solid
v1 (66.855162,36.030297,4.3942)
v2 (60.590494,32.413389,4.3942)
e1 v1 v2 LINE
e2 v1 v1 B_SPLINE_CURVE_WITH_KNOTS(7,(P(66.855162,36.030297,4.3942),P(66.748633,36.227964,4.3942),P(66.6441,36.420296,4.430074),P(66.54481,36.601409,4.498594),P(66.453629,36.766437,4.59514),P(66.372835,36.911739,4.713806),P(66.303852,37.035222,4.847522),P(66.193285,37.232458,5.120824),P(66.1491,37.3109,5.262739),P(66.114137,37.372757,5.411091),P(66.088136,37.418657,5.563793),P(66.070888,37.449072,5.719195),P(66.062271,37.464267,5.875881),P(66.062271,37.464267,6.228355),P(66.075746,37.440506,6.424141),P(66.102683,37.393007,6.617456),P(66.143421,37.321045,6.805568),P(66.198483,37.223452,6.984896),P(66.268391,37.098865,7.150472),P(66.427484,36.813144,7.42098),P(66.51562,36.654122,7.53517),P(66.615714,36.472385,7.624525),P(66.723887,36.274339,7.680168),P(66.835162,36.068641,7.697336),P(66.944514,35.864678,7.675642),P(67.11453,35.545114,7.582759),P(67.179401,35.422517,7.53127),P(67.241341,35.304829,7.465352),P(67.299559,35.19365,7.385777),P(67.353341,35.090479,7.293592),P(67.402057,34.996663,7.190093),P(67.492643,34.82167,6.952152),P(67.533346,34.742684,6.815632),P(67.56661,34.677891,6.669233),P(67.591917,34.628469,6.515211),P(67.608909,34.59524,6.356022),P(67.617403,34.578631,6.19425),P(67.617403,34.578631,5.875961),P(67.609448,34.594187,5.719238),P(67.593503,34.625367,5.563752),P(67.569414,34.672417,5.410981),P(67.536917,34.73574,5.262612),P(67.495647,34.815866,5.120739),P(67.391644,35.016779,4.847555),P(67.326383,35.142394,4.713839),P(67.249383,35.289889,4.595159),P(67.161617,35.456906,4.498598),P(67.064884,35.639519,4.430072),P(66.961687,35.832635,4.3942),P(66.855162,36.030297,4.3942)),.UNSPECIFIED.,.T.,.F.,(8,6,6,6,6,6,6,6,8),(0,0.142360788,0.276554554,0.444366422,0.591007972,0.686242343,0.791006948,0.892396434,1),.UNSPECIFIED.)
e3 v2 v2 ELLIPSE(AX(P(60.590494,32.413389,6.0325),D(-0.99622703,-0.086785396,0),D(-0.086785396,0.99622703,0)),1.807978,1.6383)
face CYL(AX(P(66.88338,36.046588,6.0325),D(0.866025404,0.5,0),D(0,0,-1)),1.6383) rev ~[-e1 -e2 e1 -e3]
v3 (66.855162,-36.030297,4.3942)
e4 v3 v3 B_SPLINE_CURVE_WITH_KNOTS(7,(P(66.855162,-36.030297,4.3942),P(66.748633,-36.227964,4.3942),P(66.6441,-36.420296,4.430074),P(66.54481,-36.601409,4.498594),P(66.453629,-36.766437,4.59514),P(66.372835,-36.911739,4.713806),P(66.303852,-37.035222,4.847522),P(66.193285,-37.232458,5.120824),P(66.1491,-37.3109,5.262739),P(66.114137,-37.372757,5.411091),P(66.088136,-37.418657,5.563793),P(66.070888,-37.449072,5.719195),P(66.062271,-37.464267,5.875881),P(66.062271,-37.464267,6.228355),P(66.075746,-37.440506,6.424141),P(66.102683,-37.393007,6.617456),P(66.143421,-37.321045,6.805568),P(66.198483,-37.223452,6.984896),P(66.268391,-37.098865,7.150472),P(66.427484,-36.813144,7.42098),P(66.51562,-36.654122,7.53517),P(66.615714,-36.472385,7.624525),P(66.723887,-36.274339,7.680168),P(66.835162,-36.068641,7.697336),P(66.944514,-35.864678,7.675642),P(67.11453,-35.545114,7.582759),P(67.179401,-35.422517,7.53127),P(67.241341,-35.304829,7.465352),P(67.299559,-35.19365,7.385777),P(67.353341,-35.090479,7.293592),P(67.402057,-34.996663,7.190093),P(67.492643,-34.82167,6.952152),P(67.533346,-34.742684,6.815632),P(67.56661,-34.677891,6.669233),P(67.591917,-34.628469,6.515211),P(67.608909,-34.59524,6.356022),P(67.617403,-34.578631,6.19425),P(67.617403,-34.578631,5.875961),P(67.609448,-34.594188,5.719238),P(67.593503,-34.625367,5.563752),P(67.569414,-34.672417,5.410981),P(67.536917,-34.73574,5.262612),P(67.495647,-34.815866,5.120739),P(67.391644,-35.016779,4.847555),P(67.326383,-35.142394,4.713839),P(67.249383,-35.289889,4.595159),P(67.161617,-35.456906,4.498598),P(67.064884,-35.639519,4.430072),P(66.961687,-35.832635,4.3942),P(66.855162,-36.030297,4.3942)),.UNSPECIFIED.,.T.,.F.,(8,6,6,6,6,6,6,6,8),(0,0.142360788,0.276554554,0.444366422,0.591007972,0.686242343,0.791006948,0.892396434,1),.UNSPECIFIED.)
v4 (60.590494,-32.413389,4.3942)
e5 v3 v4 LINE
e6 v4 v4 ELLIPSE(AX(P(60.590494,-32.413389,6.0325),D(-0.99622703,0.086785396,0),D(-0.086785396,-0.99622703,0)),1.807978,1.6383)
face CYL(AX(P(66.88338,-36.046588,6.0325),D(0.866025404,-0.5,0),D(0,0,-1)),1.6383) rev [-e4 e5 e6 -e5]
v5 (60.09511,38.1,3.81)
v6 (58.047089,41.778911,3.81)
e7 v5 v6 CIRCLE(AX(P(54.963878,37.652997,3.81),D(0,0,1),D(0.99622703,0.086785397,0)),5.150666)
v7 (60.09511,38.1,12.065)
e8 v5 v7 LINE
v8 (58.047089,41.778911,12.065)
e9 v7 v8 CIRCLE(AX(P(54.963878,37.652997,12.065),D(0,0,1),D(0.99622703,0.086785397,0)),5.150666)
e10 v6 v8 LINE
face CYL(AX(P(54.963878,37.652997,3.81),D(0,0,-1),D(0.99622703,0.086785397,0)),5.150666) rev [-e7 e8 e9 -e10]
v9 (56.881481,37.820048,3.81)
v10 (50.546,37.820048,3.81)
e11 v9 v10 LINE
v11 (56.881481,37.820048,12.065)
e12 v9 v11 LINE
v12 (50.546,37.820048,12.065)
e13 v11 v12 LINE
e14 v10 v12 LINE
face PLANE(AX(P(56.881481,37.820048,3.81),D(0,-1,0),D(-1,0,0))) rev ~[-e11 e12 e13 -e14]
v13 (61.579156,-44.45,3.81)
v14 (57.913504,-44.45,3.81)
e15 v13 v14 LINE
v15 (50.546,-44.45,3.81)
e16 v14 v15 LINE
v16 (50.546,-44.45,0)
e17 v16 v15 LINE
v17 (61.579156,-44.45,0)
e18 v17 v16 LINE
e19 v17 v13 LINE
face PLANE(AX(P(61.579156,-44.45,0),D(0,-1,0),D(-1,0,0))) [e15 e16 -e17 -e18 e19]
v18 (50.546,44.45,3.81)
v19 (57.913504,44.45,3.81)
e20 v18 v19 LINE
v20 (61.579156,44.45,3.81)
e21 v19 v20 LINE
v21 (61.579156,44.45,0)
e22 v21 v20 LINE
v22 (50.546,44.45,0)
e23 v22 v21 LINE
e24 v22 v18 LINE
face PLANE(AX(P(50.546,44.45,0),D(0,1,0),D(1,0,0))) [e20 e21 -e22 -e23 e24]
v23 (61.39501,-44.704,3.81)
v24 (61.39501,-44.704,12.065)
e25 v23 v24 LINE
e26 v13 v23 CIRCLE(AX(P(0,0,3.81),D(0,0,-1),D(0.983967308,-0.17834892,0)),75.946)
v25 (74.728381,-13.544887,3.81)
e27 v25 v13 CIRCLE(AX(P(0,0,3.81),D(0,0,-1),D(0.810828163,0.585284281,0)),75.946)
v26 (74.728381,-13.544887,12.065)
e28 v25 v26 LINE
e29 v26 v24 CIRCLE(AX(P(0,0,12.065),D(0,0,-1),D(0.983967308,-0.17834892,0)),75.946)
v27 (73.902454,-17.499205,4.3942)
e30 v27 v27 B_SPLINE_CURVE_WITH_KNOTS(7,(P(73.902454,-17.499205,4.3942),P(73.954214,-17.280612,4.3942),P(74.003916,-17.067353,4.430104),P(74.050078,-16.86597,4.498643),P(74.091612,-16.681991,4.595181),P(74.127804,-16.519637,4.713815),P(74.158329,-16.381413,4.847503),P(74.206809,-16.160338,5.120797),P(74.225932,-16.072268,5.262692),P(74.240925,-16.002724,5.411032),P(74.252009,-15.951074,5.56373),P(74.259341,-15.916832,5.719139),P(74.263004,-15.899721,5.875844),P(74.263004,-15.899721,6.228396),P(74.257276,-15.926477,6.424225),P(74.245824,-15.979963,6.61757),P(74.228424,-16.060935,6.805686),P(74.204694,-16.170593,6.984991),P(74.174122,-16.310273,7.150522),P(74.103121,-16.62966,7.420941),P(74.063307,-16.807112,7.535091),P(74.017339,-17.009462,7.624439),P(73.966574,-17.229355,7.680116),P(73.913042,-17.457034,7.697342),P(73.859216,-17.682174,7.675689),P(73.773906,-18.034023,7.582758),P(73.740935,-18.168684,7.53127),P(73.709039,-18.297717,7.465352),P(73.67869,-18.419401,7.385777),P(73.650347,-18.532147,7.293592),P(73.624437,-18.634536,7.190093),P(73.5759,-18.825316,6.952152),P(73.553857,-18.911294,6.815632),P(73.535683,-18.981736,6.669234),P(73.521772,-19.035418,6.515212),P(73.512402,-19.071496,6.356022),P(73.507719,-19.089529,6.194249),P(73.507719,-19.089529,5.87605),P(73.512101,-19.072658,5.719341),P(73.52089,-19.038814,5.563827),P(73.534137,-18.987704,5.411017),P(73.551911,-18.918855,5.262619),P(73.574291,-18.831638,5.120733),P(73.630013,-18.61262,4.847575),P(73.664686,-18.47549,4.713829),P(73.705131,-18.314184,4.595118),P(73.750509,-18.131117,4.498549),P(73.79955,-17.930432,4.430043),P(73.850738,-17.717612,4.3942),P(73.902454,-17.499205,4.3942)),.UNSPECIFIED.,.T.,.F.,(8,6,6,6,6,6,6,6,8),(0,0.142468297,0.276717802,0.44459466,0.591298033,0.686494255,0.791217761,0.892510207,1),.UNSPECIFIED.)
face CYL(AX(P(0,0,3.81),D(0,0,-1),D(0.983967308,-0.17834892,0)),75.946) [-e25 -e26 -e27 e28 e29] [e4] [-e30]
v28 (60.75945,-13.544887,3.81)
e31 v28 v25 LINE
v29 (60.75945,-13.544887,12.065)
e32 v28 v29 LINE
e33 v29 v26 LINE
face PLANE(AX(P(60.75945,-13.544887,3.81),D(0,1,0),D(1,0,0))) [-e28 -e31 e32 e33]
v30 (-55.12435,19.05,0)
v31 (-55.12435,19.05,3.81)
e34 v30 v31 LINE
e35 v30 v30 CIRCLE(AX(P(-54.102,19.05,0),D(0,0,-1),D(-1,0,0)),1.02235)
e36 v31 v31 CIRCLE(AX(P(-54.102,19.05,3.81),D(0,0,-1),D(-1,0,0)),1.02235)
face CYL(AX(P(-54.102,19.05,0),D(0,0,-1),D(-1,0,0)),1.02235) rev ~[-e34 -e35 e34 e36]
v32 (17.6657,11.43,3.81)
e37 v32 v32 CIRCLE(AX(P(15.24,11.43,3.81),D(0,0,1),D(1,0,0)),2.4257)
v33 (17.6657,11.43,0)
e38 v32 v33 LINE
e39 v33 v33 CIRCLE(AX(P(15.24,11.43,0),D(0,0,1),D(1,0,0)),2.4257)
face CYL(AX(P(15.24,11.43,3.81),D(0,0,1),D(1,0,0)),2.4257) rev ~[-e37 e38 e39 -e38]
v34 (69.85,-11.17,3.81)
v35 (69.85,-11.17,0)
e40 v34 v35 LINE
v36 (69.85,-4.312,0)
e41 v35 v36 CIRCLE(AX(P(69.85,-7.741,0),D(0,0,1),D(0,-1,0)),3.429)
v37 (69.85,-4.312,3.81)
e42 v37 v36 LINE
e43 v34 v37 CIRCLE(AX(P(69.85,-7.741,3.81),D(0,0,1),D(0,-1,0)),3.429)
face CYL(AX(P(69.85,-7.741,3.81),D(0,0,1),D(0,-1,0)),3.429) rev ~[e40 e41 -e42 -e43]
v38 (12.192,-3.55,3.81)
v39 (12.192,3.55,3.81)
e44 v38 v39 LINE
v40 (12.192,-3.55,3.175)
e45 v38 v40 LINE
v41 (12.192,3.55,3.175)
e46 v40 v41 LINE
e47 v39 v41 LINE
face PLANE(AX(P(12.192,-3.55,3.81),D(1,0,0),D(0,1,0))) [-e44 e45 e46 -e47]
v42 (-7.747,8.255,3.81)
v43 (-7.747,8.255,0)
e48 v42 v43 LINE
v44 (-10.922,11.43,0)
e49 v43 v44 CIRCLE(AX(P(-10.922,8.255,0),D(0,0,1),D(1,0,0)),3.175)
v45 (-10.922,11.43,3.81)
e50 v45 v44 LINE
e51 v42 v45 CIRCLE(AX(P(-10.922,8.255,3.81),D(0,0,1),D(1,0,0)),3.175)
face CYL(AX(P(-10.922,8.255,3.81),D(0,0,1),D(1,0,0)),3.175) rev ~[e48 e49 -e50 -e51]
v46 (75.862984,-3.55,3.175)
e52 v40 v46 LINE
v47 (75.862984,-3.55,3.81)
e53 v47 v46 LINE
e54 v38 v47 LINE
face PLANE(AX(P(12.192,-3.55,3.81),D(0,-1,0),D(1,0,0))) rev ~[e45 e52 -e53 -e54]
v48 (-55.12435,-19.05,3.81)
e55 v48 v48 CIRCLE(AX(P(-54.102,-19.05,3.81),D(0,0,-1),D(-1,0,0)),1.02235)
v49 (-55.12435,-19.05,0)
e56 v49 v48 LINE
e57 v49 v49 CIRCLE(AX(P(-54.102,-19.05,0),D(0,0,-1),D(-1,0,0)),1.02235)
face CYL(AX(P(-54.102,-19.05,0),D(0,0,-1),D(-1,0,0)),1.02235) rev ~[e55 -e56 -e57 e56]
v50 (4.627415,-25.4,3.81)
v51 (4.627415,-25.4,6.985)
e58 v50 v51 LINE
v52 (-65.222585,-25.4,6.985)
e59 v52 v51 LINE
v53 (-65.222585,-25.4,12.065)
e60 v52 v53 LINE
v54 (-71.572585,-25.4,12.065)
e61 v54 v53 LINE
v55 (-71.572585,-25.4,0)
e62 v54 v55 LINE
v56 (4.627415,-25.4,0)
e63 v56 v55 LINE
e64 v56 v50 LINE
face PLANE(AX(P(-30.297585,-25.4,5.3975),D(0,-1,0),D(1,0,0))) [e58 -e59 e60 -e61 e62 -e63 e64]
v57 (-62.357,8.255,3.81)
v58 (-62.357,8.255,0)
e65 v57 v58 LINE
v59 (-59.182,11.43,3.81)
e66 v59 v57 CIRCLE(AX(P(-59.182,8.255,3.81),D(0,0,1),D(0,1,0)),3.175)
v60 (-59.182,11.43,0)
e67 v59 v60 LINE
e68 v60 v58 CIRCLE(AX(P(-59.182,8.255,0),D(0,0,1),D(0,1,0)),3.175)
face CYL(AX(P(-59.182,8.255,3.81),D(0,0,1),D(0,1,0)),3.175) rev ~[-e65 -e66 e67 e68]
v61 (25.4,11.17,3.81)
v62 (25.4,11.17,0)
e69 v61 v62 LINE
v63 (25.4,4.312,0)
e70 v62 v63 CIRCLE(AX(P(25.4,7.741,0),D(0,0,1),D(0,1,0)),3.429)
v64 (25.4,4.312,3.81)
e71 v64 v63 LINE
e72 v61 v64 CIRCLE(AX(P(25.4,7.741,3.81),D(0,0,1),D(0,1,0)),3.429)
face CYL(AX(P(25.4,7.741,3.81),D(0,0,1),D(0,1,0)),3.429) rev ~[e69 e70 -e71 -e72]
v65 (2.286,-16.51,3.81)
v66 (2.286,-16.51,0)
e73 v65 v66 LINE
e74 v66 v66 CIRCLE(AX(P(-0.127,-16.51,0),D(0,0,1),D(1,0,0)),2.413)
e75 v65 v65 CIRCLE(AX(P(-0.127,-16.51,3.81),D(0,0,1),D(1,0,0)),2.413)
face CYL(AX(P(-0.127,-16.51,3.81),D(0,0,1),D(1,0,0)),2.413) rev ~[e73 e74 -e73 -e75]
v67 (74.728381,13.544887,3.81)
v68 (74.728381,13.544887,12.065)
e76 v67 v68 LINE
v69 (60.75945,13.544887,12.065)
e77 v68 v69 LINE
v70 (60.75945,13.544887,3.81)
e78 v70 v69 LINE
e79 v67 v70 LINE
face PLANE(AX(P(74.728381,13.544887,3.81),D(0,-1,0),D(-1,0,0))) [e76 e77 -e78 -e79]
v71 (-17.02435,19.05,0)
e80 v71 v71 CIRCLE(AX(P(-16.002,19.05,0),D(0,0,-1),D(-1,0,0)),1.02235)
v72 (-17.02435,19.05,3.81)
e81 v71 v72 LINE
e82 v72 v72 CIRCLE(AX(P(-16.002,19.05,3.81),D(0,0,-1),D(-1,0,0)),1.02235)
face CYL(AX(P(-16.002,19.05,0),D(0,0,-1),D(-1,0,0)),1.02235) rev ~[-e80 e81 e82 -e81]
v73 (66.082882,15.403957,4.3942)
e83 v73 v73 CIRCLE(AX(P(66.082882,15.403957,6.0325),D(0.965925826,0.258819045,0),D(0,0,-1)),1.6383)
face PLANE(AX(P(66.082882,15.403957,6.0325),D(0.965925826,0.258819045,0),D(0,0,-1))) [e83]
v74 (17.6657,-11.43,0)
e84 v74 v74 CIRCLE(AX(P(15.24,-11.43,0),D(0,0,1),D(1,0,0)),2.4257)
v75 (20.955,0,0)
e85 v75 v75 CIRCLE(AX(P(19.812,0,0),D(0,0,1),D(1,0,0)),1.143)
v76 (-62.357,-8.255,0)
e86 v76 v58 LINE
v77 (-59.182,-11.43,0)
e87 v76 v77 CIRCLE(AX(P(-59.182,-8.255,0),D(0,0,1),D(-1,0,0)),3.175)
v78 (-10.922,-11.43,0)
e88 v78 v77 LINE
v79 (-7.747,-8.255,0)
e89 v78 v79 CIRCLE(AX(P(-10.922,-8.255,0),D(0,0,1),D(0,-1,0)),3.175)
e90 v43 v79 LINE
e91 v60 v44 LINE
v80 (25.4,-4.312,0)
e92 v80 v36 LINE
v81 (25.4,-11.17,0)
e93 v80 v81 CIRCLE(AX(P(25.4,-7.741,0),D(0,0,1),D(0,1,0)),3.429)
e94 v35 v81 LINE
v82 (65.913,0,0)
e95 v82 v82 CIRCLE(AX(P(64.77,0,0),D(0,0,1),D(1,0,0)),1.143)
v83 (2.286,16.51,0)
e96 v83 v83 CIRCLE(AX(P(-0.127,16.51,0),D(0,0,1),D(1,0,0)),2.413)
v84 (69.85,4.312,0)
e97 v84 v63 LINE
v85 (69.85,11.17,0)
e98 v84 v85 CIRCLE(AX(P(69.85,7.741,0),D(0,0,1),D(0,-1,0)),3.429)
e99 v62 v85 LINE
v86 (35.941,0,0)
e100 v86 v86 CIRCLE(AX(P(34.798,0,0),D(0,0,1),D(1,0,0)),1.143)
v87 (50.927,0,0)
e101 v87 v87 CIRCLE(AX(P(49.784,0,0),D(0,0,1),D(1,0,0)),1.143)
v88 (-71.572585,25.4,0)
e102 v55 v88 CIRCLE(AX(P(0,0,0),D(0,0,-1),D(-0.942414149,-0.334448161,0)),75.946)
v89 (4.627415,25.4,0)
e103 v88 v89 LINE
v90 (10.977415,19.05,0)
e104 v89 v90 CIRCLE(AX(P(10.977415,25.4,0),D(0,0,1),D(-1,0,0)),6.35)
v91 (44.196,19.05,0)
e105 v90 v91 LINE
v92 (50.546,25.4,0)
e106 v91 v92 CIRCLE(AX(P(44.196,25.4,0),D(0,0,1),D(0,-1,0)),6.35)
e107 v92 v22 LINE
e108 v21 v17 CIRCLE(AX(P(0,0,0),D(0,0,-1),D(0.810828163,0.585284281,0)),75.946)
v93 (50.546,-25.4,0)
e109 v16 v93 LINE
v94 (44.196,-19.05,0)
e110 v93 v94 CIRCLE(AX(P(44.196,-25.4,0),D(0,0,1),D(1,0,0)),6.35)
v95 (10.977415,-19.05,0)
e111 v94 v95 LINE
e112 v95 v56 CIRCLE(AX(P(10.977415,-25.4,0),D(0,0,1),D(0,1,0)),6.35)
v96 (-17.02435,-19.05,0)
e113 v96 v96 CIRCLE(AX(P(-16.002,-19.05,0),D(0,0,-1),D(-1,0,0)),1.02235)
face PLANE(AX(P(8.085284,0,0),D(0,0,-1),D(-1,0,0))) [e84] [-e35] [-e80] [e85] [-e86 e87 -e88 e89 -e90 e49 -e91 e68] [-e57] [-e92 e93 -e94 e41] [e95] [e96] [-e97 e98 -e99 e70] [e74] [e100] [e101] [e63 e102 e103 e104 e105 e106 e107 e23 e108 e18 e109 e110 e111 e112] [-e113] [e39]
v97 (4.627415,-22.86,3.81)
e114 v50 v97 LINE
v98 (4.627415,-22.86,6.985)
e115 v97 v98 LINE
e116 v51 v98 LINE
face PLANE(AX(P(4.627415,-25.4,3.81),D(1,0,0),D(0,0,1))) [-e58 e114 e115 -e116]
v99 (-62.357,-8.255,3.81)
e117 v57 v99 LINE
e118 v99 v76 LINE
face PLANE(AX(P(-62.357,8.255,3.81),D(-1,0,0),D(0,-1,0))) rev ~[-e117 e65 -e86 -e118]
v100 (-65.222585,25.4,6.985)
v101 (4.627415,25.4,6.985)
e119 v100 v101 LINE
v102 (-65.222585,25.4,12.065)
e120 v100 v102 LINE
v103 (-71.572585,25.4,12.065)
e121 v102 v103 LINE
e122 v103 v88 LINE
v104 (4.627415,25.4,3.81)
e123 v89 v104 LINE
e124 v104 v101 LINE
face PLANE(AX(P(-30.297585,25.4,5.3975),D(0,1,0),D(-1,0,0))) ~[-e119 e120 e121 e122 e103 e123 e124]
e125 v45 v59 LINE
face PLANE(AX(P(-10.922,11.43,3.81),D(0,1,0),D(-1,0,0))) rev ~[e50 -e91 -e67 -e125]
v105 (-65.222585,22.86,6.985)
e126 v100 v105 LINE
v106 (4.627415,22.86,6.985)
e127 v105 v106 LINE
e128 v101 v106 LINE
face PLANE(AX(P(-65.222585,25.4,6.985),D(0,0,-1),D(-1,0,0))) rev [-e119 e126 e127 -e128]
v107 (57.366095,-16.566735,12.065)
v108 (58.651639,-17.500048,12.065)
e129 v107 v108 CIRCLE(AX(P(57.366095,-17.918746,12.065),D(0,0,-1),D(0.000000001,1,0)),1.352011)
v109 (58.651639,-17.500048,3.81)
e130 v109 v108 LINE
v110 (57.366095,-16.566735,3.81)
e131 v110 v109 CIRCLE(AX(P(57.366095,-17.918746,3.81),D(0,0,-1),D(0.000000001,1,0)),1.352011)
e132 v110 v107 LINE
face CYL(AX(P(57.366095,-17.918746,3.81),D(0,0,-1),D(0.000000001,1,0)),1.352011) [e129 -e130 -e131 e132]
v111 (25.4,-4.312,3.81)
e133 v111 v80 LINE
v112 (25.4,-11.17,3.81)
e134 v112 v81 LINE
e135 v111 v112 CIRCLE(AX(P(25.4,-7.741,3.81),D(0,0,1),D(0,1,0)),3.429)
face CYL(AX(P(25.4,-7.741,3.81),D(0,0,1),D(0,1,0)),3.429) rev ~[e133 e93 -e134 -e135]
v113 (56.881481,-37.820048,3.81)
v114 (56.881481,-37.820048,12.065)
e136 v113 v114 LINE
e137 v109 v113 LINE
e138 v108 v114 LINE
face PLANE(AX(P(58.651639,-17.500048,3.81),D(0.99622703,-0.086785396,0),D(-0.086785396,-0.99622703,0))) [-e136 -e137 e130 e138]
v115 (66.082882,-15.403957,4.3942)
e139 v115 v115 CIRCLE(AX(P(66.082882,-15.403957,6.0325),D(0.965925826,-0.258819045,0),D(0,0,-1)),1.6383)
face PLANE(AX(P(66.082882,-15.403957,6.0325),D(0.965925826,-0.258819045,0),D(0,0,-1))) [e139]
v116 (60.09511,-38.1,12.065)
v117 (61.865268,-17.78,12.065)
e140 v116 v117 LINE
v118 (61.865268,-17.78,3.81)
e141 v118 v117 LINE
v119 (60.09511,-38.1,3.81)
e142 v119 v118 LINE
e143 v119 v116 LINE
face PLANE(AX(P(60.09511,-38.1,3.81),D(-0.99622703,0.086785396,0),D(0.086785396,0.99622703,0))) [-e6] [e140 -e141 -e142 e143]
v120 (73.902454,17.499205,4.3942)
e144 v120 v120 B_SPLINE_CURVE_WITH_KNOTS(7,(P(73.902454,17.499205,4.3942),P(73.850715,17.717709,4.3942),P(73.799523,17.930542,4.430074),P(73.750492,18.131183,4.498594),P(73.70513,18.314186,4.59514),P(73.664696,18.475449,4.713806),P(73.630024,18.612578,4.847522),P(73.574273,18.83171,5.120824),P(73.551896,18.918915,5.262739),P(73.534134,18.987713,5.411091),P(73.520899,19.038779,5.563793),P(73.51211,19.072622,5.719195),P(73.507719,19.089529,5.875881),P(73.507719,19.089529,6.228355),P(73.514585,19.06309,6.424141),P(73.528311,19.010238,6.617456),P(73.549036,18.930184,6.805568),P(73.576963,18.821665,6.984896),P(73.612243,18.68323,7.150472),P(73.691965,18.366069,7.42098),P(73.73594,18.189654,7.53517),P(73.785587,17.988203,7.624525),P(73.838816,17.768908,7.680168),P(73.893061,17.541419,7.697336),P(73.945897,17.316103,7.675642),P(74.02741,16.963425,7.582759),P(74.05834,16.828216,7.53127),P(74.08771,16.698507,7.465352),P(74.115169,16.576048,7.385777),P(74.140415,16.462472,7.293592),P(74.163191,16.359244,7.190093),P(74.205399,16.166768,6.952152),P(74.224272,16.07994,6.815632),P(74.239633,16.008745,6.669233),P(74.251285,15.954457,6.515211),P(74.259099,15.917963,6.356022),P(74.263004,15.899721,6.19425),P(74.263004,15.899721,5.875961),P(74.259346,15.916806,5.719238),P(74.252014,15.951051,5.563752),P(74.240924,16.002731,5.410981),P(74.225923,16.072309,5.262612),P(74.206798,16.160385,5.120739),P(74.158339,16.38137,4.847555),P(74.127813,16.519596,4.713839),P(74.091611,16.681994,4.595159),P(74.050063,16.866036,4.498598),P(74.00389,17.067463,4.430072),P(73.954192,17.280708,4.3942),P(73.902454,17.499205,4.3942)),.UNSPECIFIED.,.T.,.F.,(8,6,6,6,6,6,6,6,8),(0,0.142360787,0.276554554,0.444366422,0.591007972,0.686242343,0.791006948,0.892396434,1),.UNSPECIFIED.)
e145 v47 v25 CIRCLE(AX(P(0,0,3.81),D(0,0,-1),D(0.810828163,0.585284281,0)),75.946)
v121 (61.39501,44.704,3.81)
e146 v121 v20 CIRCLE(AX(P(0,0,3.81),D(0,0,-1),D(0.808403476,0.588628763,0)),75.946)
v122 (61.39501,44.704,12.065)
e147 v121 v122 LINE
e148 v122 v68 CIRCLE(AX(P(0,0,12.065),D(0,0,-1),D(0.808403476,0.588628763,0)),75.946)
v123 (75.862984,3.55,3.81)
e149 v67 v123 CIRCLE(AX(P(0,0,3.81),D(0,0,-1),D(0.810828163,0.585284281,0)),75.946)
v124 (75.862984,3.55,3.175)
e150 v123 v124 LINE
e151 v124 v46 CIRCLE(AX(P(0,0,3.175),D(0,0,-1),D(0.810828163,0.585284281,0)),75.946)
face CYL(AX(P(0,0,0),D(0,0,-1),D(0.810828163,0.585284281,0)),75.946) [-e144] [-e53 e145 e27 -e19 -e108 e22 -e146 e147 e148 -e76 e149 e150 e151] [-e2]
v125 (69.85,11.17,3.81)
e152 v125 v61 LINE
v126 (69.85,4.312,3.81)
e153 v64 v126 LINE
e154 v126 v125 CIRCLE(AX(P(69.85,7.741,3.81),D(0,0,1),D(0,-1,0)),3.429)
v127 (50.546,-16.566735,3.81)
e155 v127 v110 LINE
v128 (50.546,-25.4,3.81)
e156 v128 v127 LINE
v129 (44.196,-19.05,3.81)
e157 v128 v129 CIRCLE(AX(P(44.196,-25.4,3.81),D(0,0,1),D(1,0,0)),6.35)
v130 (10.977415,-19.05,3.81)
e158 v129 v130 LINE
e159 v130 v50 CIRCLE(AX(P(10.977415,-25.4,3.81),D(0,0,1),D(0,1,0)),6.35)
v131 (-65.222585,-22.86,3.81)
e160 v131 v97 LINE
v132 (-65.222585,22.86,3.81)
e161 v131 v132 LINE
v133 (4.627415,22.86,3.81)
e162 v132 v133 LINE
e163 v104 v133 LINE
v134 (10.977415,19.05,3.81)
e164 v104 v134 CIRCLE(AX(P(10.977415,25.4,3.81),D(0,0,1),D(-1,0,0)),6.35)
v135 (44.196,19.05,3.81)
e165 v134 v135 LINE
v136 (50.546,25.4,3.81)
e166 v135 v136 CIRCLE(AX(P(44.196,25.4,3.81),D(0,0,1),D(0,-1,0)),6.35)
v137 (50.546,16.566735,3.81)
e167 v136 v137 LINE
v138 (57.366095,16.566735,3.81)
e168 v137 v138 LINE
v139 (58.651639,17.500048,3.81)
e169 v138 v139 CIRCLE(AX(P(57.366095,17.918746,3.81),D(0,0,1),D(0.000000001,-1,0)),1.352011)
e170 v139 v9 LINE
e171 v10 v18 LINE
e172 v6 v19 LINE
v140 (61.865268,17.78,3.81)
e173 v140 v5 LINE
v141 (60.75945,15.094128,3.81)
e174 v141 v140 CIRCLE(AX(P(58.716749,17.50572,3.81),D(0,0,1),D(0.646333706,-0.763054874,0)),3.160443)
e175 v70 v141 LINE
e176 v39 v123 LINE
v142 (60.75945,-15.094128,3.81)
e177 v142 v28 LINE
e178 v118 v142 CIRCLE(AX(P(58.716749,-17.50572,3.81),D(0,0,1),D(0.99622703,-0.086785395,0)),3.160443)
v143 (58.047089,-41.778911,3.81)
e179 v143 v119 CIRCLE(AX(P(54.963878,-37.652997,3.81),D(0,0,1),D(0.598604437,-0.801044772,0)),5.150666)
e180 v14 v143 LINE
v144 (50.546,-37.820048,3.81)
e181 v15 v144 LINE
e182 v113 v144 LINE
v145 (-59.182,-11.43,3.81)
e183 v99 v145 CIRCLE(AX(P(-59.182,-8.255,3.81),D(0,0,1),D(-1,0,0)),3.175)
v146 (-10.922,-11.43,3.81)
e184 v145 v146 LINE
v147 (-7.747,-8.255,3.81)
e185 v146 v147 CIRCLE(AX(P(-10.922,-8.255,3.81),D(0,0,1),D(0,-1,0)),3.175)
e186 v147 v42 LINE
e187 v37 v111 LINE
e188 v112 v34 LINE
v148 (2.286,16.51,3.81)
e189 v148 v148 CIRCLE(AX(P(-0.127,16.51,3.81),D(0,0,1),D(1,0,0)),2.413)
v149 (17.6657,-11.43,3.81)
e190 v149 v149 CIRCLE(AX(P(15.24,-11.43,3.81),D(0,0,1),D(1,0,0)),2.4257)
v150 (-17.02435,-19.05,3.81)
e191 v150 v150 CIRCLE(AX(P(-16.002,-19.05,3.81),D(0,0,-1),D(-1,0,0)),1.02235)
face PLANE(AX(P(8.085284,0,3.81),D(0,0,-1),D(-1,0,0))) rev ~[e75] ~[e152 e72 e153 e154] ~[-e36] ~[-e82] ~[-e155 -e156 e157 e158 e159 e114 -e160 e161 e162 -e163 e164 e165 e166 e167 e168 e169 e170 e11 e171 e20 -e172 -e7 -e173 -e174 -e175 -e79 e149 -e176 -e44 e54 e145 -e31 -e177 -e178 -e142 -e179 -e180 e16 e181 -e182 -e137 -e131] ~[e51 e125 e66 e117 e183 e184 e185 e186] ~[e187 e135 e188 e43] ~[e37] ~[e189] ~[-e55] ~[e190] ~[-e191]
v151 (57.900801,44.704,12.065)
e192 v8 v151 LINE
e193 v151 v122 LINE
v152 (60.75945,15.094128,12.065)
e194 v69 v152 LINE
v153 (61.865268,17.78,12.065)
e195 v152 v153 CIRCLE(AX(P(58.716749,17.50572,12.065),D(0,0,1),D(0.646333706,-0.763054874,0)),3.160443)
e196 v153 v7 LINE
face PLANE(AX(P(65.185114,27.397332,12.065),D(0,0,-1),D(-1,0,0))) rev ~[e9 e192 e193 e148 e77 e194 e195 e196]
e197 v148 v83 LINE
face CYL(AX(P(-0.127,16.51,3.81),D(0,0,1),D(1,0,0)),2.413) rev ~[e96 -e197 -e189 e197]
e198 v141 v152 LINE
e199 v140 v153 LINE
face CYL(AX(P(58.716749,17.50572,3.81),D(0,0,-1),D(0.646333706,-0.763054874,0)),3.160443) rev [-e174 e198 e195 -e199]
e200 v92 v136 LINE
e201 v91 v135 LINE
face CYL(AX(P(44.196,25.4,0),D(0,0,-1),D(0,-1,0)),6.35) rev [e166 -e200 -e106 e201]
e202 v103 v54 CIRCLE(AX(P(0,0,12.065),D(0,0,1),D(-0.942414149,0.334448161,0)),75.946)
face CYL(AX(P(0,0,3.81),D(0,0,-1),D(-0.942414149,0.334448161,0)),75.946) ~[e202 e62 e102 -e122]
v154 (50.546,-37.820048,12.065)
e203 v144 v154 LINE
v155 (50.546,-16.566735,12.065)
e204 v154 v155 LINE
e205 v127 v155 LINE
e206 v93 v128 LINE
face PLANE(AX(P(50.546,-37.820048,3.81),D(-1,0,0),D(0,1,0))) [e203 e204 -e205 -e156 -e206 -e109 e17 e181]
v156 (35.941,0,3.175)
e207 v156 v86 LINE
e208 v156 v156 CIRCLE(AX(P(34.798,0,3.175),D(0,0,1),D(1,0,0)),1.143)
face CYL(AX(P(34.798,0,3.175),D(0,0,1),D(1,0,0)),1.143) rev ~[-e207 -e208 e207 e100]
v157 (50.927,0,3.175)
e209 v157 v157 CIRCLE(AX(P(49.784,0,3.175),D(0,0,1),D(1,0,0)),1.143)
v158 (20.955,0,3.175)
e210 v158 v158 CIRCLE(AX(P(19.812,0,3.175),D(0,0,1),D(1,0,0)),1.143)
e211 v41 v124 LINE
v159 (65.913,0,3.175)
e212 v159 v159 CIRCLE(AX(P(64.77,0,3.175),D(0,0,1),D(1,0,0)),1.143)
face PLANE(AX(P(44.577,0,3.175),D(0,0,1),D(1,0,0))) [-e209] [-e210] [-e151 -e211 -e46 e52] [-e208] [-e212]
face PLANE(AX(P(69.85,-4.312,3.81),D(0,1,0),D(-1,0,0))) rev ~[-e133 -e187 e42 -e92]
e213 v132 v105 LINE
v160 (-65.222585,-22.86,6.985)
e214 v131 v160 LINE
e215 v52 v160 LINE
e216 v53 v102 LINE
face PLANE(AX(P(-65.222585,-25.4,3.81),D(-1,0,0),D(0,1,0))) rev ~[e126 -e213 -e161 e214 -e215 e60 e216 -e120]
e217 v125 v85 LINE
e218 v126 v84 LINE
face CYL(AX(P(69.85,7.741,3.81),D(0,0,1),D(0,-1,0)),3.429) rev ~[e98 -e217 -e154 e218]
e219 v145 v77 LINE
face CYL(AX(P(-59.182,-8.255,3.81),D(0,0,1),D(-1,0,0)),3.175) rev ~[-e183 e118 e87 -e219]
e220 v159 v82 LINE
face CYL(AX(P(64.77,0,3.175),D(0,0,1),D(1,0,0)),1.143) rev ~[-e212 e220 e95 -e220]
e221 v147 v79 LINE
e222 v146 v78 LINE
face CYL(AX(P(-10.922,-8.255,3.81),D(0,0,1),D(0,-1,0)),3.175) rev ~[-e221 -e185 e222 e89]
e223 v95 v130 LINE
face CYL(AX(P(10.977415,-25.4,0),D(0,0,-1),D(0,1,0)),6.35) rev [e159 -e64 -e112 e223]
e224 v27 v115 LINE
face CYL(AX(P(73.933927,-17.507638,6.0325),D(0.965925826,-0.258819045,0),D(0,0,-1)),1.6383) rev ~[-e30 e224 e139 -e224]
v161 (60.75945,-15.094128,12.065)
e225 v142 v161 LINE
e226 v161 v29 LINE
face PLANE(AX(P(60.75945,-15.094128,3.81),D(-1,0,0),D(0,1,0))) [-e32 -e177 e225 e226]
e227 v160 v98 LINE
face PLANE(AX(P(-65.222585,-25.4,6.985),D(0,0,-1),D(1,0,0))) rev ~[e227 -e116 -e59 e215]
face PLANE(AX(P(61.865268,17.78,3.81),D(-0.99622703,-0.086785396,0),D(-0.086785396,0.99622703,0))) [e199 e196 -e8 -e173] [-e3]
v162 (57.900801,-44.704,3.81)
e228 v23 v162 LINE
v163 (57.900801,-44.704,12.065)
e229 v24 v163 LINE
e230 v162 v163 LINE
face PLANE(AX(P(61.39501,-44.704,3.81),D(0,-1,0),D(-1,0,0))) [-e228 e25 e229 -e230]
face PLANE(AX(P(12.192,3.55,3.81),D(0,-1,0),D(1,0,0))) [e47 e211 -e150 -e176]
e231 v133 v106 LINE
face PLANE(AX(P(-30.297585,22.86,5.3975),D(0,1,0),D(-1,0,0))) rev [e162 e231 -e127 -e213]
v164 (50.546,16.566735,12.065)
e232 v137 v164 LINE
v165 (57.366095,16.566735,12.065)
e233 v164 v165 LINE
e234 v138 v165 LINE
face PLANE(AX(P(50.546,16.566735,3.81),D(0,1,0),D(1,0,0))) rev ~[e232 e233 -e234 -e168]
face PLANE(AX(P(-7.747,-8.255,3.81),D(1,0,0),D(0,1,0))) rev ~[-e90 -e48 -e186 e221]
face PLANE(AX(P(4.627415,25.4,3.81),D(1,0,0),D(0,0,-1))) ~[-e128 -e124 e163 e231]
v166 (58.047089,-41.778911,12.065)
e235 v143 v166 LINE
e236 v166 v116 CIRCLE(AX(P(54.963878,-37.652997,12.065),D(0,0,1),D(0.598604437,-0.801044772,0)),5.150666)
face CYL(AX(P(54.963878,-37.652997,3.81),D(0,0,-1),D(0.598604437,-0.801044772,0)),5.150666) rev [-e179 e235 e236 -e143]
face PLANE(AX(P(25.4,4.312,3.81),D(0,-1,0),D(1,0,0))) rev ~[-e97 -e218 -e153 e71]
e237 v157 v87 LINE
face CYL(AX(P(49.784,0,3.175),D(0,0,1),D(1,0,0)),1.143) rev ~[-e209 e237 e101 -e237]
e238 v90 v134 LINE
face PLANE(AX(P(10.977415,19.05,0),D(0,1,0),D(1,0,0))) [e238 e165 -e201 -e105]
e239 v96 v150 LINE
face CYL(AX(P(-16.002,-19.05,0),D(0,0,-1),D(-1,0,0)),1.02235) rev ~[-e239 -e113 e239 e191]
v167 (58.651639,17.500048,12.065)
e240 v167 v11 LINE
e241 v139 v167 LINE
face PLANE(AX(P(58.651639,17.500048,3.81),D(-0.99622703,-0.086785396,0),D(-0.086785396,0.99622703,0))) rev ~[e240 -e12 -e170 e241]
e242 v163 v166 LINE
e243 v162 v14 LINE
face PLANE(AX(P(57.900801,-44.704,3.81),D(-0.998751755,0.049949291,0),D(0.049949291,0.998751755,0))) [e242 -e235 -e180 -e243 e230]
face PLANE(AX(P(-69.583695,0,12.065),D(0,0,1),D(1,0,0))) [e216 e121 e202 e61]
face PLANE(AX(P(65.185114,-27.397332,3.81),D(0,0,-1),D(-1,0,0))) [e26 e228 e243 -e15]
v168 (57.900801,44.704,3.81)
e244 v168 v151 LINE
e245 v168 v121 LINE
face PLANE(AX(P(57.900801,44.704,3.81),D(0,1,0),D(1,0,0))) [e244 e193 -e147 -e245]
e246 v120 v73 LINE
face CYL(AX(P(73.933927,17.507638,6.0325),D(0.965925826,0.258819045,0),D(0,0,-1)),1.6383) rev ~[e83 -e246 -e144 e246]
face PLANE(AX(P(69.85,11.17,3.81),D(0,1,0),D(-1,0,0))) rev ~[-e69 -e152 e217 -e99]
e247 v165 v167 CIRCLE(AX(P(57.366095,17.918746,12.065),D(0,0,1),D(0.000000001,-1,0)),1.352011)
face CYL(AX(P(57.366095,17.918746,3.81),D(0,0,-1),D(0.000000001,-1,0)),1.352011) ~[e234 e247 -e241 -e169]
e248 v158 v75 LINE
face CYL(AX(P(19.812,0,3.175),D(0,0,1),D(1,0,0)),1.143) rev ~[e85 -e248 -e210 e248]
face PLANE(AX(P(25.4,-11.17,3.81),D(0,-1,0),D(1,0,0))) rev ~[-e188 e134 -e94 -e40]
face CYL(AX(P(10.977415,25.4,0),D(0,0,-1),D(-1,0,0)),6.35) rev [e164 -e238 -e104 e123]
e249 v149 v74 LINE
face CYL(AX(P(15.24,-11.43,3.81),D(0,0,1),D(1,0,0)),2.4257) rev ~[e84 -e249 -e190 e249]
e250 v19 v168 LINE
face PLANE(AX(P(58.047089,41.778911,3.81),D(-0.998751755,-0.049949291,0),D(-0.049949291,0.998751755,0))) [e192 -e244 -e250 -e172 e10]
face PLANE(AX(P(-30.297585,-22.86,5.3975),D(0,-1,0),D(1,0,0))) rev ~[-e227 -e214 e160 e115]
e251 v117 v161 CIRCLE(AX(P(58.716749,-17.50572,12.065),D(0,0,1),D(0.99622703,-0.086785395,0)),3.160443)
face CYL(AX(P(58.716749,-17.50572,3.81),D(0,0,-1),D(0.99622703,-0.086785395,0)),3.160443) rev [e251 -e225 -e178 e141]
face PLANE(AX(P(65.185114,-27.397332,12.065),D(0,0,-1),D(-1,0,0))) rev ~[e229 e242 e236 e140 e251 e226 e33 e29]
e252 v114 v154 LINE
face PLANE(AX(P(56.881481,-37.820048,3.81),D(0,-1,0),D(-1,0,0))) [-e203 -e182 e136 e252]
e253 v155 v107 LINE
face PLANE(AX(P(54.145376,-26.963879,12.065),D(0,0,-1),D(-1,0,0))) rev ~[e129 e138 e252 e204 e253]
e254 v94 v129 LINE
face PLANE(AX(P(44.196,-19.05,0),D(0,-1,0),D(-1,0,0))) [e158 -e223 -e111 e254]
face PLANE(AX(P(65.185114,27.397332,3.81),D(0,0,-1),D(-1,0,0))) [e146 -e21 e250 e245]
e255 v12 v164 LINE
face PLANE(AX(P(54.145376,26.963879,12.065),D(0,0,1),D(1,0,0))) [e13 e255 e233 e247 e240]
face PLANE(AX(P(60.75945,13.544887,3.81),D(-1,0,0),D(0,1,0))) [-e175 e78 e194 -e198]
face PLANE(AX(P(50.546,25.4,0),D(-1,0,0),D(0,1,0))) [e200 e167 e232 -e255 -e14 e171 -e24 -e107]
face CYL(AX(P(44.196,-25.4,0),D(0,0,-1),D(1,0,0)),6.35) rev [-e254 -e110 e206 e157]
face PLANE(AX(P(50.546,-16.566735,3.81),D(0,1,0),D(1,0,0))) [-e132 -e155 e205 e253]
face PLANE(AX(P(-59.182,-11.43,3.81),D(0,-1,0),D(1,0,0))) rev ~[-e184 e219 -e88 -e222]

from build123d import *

# Parameters (mm, degrees)
BOSS_EXTRUDE1_DEPTH     = 3.81
BOSS_EXTRUDE2_DEPTH     = 8.255
SKETCH3_W               = 64.77
SKETCH3_H               = 7.1
CUT_EXTRUDE1_DEPTH      = 0.635
CUT_EXTRUDE4_DEPTH      = 4.81
CUT_EXTRUDE5_DEPTH      = 4.81
SKETCH12_R              = 2.4257
CUT_EXTRUDE6_DEPTH      = 4.81
SKETCH4_R               = 1.143
CUT_EXTRUDE2_DEPTH      = 11.43
SKETCH17_R              = 2.413
CUT_EXTRUDE9_DEPTH      = 4.81
BOSS_EXTRUDE5_DEPTH     = 8.255
SKETCH20_W              = 69.85
SKETCH20_H              = 3.175
BOSS_EXTRUDE6_DEPTH     = 2.54
SKETCH21_R              = 1.02235
CUT_EXTRUDE10_DEPTH     = 13.065
SKETCH24_R              = 1.6383
CUT_EXTRUDE11_DEPTH     = 8.128
CIRPATTERN1_COUNT       = 2
CIRPATTERN1_ANGLE       = 15
MIRROR2_COPY_1_SKETCH_R = 1.6383
MIRROR2_COPY_1_DEPTH    = 8.128


with BuildPart() as part:
    # Sketch1 → Boss-Extrude1 (new body)
    with BuildSketch(Plane.XY):
        with BuildLine():
            Line((10.977415053, 19.05), (44.196, 19.05))
            ThreePointArc((44.196, 19.05), (48.686128061, 20.909871939), (50.546, 25.4))
            Line((50.546, 25.4), (50.546, 44.45))
            Line((50.546, 44.45), (61.579155694, 44.45))
            ThreePointArc((61.579155694, 44.45), (75.946, 0), (61.579155694, -44.45))
            Line((61.579155694, -44.45), (50.546, -44.45))
            Line((50.546, -44.45), (50.546, -25.4))
            ThreePointArc((50.546, -25.4), (48.686128061, -20.909871939), (44.196, -19.05))
            Line((44.196, -19.05), (10.977415053, -19.05))
            ThreePointArc((10.977415053, -19.05), (6.487286992, -20.909871939), (4.627415053, -25.4))
            Line((4.627415053, -25.4), (-71.572584947, -25.4))
            ThreePointArc((-71.572584947, -25.4), (-75.946, 0), (-71.572584947, 25.4))
            Line((-71.572584947, 25.4), (4.627415053, 25.4))
            ThreePointArc((4.627415053, 25.4), (6.487286992, 20.909871939), (10.977415053, 19.05))
        make_face()
    extrude(amount=BOSS_EXTRUDE1_DEPTH)

    # Sketch2 → Boss-Extrude2 (add)
    with BuildSketch(Plane.XY.offset(3.81)):
        with BuildLine():
            Line((61.865268471, 17.78), (60.095110466, 38.1))
            ThreePointArc((60.095110466, 38.1), (59.464196764, 40.158289632), (58.047089349, 41.778911391))
            Line((58.047089349, 41.778911391), (57.900800643, 44.704))
            Line((57.900800643, 44.704), (61.395010384, 44.704))
            ThreePointArc((61.395010384, 44.704), (69.822038137, 29.877715884), (74.728381149, 13.544887112))
            Line((74.728381149, 13.544887112), (60.759450402, 13.544887112))
            Line((60.759450402, 13.544887112), (60.759450402, 15.094127876))
            ThreePointArc((60.759450402, 15.094127876), (61.639191639, 16.302501703), (61.865268471, 17.78))
        make_face()
        with BuildLine():
            Line((58.651639318, 17.500047669), (56.881481313, 37.820047669))
            Line((56.881481313, 37.820047669), (50.546, 37.820047669))
            Line((50.546, 37.820047669), (50.546, 16.566735288))
            Line((50.546, 16.566735288), (57.366094516, 16.566735288))
            ThreePointArc((57.366094516, 16.566735288), (58.160401987, 16.824667019), (58.651639318, 17.500047669))
        make_face()
        with BuildLine():
            Line((60.759450402, -13.544887112), (74.728381149, -13.544887112))
            ThreePointArc((74.728381149, -13.544887112), (69.822038137, -29.877715884), (61.395010384, -44.704))
            Line((61.395010384, -44.704), (57.900800643, -44.704))
            Line((57.900800643, -44.704), (58.047089349, -41.778911391))
            ThreePointArc((58.047089349, -41.778911391), (59.464196764, -40.158289632), (60.095110466, -38.1))
            Line((60.095110466, -38.1), (61.865268471, -17.78))
            ThreePointArc((61.865268471, -17.78), (61.639191639, -16.302501703), (60.759450402, -15.094127876))
            Line((60.759450402, -15.094127876), (60.759450402, -13.544887112))
        make_face()
        with BuildLine():
            Line((50.546, -16.566735288), (57.366094516, -16.566735288))
            ThreePointArc((57.366094516, -16.566735288), (58.160401987, -16.824667019), (58.651639318, -17.500047669))
            Line((58.651639318, -17.500047669), (56.881481313, -37.820047669))
            Line((56.881481313, -37.820047669), (50.546, -37.820047669))
            Line((50.546, -37.820047669), (50.546, -16.566735288))
        make_face()
    extrude(amount=BOSS_EXTRUDE2_DEPTH)

    # Sketch3 → Cut-Extrude1 (cut)
    with BuildSketch(Plane.XY.offset(3.81)):
        with Locations((44.577, 0)):
            Rectangle(SKETCH3_W, SKETCH3_H)
    extrude(amount=-CUT_EXTRUDE1_DEPTH, mode=Mode.SUBTRACT)

    # Sketch9 → Cut-Extrude4 (cut, through all)
    with BuildSketch(Plane.XY.offset(3.81)):
        with BuildLine():
            Line((69.85, 11.17), (25.4, 11.17))
            ThreePointArc((25.4, 11.17), (21.971, 7.741), (25.4, 4.312))
            Line((25.4, 4.312), (69.85, 4.312))
            ThreePointArc((69.85, 4.312), (73.279, 7.741), (69.85, 11.17))
        make_face()
        with BuildLine():
            Line((69.85, -4.312), (25.4, -4.312))
            ThreePointArc((25.4, -4.312), (21.971, -7.741), (25.4, -11.17))
            Line((25.4, -11.17), (69.85, -11.17))
            ThreePointArc((69.85, -11.17), (73.279, -7.741), (69.85, -4.312))
        make_face()
    extrude(amount=-CUT_EXTRUDE4_DEPTH, mode=Mode.SUBTRACT)

    # Sketch10 → Cut-Extrude5 (cut, through all)
    with BuildSketch(Plane.XY.offset(3.81)):
        with BuildLine():
            Line((-10.922, 11.43), (-59.182, 11.43))
            ThreePointArc((-59.182, 11.43), (-61.42706403, 10.50006403), (-62.357, 8.255))
            Line((-62.357, 8.255), (-62.357, -8.255))
            ThreePointArc((-62.357, -8.255), (-61.42706403, -10.50006403), (-59.182, -11.43))
            Line((-59.182, -11.43), (-10.922, -11.43))
            ThreePointArc((-10.922, -11.43), (-8.67693597, -10.50006403), (-7.747, -8.255))
            Line((-7.747, -8.255), (-7.747, 8.255))
            ThreePointArc((-7.747, 8.255), (-8.67693597, 10.50006403), (-10.922, 11.43))
        make_face()
    extrude(amount=-CUT_EXTRUDE5_DEPTH, mode=Mode.SUBTRACT)

    # Sketch12 → Cut-Extrude6 (cut, through all)
    with BuildSketch(Plane.XY.offset(3.81)):
        with Locations((15.24, 11.43)):
            Circle(SKETCH12_R)
        with Locations((15.24, -11.43)):
            Circle(SKETCH12_R)
    extrude(amount=-CUT_EXTRUDE6_DEPTH, mode=Mode.SUBTRACT)

    # Sketch4 → Cut-Extrude2 (cut)
    with BuildSketch(Plane.XY.offset(3.175)):
        with Locations((19.812, 0)):
            Circle(SKETCH4_R)
        with Locations((34.798, 0)):
            Circle(SKETCH4_R)
        with Locations((49.784, 0)):
            Circle(SKETCH4_R)
        with Locations((64.77, 0)):
            Circle(SKETCH4_R)
    extrude(amount=-CUT_EXTRUDE2_DEPTH, mode=Mode.SUBTRACT)

    # Sketch17 → Cut-Extrude9 (cut, through all)
    with BuildSketch(Plane.XY.offset(3.81)):
        with Locations((-0.127, 16.51)):
            Circle(SKETCH17_R)
        with Locations((-0.127, -16.51)):
            Circle(SKETCH17_R)
    extrude(amount=-CUT_EXTRUDE9_DEPTH, mode=Mode.SUBTRACT)

    # Sketch19 → Boss-Extrude5 (add)
    with BuildSketch(Plane.XY.offset(3.81)):
        with BuildLine():
            Line((-71.572584947, -25.4), (-65.222584947, -25.4))
            Line((-65.222584947, -25.4), (-65.222584947, 25.4))
            Line((-65.222584947, 25.4), (-71.572584947, 25.4))
            ThreePointArc((-71.572584947, 25.4), (-75.946, 0), (-71.572584947, -25.4))
        make_face()
    extrude(amount=BOSS_EXTRUDE5_DEPTH)

    # Sketch20 → Boss-Extrude6 (add)
    with BuildSketch(Plane.XZ.offset(25.4)):
        with Locations((-30.297584947, 5.3975)):
            Rectangle(SKETCH20_W, SKETCH20_H)
    boss_extrude6 = extrude(amount=-BOSS_EXTRUDE6_DEPTH)

    # Mirror1: Boss-Extrude6 across plane
    add(boss_extrude6.mirror(Plane.ZX))

    # Sketch21 → Cut-Extrude10 (cut, through all)
    with BuildSketch(Plane(origin=(0, 0, 0), x_dir=(-1, 0, 0), z_dir=(0, 0, -1))):
        with Locations((54.102, 19.05)):
            Circle(SKETCH21_R)
        with Locations((16.002, 19.05)):
            Circle(SKETCH21_R)
        with Locations((16.002, -19.05)):
            Circle(SKETCH21_R)
        with Locations((54.102, -19.05)):
            Circle(SKETCH21_R)
    extrude(amount=-CUT_EXTRUDE10_DEPTH, mode=Mode.SUBTRACT)

    # Sketch24 → Cut-Extrude11 (cut)
    with BuildSketch(Plane(origin=(65.771165316, 37.973, 0), x_dir=(0, 0, -1), z_dir=(0.866025404, 0.5, 0))):
        with Locations((-6.0325, -2.224428615)):
            Circle(SKETCH24_R)
    cut_extrude11 = extrude(amount=-CUT_EXTRUDE11_DEPTH, mode=Mode.SUBTRACT)

    # CirPattern1: Cut-Extrude11 ×2 about axis
    cirpattern1_axis = Axis((0, 0, 3.81), (0, 0, -1))
    for i in range(1, CIRPATTERN1_COUNT):
        add(cut_extrude11.rotate(cirpattern1_axis, i * CIRPATTERN1_ANGLE / (CIRPATTERN1_COUNT - 1)), mode=Mode.SUBTRACT)

    # Mirror2: Cut-Extrude11 across plane
    add(cut_extrude11.mirror(Plane.ZX), mode=Mode.SUBTRACT)

    # Mirror2 copy 1 sketch → Mirror2 copy 1 (cut)
    with BuildSketch(Plane(origin=(73.358202803, -19.656271199, 0), x_dir=(0, 0, -1), z_dir=(0.965925826, -0.258819045, 0))):
        with Locations((-6.0325, 2.224428615)):
            Circle(MIRROR2_COPY_1_SKETCH_R)
    extrude(amount=-MIRROR2_COPY_1_DEPTH, mode=Mode.SUBTRACT)


solid = part.part
